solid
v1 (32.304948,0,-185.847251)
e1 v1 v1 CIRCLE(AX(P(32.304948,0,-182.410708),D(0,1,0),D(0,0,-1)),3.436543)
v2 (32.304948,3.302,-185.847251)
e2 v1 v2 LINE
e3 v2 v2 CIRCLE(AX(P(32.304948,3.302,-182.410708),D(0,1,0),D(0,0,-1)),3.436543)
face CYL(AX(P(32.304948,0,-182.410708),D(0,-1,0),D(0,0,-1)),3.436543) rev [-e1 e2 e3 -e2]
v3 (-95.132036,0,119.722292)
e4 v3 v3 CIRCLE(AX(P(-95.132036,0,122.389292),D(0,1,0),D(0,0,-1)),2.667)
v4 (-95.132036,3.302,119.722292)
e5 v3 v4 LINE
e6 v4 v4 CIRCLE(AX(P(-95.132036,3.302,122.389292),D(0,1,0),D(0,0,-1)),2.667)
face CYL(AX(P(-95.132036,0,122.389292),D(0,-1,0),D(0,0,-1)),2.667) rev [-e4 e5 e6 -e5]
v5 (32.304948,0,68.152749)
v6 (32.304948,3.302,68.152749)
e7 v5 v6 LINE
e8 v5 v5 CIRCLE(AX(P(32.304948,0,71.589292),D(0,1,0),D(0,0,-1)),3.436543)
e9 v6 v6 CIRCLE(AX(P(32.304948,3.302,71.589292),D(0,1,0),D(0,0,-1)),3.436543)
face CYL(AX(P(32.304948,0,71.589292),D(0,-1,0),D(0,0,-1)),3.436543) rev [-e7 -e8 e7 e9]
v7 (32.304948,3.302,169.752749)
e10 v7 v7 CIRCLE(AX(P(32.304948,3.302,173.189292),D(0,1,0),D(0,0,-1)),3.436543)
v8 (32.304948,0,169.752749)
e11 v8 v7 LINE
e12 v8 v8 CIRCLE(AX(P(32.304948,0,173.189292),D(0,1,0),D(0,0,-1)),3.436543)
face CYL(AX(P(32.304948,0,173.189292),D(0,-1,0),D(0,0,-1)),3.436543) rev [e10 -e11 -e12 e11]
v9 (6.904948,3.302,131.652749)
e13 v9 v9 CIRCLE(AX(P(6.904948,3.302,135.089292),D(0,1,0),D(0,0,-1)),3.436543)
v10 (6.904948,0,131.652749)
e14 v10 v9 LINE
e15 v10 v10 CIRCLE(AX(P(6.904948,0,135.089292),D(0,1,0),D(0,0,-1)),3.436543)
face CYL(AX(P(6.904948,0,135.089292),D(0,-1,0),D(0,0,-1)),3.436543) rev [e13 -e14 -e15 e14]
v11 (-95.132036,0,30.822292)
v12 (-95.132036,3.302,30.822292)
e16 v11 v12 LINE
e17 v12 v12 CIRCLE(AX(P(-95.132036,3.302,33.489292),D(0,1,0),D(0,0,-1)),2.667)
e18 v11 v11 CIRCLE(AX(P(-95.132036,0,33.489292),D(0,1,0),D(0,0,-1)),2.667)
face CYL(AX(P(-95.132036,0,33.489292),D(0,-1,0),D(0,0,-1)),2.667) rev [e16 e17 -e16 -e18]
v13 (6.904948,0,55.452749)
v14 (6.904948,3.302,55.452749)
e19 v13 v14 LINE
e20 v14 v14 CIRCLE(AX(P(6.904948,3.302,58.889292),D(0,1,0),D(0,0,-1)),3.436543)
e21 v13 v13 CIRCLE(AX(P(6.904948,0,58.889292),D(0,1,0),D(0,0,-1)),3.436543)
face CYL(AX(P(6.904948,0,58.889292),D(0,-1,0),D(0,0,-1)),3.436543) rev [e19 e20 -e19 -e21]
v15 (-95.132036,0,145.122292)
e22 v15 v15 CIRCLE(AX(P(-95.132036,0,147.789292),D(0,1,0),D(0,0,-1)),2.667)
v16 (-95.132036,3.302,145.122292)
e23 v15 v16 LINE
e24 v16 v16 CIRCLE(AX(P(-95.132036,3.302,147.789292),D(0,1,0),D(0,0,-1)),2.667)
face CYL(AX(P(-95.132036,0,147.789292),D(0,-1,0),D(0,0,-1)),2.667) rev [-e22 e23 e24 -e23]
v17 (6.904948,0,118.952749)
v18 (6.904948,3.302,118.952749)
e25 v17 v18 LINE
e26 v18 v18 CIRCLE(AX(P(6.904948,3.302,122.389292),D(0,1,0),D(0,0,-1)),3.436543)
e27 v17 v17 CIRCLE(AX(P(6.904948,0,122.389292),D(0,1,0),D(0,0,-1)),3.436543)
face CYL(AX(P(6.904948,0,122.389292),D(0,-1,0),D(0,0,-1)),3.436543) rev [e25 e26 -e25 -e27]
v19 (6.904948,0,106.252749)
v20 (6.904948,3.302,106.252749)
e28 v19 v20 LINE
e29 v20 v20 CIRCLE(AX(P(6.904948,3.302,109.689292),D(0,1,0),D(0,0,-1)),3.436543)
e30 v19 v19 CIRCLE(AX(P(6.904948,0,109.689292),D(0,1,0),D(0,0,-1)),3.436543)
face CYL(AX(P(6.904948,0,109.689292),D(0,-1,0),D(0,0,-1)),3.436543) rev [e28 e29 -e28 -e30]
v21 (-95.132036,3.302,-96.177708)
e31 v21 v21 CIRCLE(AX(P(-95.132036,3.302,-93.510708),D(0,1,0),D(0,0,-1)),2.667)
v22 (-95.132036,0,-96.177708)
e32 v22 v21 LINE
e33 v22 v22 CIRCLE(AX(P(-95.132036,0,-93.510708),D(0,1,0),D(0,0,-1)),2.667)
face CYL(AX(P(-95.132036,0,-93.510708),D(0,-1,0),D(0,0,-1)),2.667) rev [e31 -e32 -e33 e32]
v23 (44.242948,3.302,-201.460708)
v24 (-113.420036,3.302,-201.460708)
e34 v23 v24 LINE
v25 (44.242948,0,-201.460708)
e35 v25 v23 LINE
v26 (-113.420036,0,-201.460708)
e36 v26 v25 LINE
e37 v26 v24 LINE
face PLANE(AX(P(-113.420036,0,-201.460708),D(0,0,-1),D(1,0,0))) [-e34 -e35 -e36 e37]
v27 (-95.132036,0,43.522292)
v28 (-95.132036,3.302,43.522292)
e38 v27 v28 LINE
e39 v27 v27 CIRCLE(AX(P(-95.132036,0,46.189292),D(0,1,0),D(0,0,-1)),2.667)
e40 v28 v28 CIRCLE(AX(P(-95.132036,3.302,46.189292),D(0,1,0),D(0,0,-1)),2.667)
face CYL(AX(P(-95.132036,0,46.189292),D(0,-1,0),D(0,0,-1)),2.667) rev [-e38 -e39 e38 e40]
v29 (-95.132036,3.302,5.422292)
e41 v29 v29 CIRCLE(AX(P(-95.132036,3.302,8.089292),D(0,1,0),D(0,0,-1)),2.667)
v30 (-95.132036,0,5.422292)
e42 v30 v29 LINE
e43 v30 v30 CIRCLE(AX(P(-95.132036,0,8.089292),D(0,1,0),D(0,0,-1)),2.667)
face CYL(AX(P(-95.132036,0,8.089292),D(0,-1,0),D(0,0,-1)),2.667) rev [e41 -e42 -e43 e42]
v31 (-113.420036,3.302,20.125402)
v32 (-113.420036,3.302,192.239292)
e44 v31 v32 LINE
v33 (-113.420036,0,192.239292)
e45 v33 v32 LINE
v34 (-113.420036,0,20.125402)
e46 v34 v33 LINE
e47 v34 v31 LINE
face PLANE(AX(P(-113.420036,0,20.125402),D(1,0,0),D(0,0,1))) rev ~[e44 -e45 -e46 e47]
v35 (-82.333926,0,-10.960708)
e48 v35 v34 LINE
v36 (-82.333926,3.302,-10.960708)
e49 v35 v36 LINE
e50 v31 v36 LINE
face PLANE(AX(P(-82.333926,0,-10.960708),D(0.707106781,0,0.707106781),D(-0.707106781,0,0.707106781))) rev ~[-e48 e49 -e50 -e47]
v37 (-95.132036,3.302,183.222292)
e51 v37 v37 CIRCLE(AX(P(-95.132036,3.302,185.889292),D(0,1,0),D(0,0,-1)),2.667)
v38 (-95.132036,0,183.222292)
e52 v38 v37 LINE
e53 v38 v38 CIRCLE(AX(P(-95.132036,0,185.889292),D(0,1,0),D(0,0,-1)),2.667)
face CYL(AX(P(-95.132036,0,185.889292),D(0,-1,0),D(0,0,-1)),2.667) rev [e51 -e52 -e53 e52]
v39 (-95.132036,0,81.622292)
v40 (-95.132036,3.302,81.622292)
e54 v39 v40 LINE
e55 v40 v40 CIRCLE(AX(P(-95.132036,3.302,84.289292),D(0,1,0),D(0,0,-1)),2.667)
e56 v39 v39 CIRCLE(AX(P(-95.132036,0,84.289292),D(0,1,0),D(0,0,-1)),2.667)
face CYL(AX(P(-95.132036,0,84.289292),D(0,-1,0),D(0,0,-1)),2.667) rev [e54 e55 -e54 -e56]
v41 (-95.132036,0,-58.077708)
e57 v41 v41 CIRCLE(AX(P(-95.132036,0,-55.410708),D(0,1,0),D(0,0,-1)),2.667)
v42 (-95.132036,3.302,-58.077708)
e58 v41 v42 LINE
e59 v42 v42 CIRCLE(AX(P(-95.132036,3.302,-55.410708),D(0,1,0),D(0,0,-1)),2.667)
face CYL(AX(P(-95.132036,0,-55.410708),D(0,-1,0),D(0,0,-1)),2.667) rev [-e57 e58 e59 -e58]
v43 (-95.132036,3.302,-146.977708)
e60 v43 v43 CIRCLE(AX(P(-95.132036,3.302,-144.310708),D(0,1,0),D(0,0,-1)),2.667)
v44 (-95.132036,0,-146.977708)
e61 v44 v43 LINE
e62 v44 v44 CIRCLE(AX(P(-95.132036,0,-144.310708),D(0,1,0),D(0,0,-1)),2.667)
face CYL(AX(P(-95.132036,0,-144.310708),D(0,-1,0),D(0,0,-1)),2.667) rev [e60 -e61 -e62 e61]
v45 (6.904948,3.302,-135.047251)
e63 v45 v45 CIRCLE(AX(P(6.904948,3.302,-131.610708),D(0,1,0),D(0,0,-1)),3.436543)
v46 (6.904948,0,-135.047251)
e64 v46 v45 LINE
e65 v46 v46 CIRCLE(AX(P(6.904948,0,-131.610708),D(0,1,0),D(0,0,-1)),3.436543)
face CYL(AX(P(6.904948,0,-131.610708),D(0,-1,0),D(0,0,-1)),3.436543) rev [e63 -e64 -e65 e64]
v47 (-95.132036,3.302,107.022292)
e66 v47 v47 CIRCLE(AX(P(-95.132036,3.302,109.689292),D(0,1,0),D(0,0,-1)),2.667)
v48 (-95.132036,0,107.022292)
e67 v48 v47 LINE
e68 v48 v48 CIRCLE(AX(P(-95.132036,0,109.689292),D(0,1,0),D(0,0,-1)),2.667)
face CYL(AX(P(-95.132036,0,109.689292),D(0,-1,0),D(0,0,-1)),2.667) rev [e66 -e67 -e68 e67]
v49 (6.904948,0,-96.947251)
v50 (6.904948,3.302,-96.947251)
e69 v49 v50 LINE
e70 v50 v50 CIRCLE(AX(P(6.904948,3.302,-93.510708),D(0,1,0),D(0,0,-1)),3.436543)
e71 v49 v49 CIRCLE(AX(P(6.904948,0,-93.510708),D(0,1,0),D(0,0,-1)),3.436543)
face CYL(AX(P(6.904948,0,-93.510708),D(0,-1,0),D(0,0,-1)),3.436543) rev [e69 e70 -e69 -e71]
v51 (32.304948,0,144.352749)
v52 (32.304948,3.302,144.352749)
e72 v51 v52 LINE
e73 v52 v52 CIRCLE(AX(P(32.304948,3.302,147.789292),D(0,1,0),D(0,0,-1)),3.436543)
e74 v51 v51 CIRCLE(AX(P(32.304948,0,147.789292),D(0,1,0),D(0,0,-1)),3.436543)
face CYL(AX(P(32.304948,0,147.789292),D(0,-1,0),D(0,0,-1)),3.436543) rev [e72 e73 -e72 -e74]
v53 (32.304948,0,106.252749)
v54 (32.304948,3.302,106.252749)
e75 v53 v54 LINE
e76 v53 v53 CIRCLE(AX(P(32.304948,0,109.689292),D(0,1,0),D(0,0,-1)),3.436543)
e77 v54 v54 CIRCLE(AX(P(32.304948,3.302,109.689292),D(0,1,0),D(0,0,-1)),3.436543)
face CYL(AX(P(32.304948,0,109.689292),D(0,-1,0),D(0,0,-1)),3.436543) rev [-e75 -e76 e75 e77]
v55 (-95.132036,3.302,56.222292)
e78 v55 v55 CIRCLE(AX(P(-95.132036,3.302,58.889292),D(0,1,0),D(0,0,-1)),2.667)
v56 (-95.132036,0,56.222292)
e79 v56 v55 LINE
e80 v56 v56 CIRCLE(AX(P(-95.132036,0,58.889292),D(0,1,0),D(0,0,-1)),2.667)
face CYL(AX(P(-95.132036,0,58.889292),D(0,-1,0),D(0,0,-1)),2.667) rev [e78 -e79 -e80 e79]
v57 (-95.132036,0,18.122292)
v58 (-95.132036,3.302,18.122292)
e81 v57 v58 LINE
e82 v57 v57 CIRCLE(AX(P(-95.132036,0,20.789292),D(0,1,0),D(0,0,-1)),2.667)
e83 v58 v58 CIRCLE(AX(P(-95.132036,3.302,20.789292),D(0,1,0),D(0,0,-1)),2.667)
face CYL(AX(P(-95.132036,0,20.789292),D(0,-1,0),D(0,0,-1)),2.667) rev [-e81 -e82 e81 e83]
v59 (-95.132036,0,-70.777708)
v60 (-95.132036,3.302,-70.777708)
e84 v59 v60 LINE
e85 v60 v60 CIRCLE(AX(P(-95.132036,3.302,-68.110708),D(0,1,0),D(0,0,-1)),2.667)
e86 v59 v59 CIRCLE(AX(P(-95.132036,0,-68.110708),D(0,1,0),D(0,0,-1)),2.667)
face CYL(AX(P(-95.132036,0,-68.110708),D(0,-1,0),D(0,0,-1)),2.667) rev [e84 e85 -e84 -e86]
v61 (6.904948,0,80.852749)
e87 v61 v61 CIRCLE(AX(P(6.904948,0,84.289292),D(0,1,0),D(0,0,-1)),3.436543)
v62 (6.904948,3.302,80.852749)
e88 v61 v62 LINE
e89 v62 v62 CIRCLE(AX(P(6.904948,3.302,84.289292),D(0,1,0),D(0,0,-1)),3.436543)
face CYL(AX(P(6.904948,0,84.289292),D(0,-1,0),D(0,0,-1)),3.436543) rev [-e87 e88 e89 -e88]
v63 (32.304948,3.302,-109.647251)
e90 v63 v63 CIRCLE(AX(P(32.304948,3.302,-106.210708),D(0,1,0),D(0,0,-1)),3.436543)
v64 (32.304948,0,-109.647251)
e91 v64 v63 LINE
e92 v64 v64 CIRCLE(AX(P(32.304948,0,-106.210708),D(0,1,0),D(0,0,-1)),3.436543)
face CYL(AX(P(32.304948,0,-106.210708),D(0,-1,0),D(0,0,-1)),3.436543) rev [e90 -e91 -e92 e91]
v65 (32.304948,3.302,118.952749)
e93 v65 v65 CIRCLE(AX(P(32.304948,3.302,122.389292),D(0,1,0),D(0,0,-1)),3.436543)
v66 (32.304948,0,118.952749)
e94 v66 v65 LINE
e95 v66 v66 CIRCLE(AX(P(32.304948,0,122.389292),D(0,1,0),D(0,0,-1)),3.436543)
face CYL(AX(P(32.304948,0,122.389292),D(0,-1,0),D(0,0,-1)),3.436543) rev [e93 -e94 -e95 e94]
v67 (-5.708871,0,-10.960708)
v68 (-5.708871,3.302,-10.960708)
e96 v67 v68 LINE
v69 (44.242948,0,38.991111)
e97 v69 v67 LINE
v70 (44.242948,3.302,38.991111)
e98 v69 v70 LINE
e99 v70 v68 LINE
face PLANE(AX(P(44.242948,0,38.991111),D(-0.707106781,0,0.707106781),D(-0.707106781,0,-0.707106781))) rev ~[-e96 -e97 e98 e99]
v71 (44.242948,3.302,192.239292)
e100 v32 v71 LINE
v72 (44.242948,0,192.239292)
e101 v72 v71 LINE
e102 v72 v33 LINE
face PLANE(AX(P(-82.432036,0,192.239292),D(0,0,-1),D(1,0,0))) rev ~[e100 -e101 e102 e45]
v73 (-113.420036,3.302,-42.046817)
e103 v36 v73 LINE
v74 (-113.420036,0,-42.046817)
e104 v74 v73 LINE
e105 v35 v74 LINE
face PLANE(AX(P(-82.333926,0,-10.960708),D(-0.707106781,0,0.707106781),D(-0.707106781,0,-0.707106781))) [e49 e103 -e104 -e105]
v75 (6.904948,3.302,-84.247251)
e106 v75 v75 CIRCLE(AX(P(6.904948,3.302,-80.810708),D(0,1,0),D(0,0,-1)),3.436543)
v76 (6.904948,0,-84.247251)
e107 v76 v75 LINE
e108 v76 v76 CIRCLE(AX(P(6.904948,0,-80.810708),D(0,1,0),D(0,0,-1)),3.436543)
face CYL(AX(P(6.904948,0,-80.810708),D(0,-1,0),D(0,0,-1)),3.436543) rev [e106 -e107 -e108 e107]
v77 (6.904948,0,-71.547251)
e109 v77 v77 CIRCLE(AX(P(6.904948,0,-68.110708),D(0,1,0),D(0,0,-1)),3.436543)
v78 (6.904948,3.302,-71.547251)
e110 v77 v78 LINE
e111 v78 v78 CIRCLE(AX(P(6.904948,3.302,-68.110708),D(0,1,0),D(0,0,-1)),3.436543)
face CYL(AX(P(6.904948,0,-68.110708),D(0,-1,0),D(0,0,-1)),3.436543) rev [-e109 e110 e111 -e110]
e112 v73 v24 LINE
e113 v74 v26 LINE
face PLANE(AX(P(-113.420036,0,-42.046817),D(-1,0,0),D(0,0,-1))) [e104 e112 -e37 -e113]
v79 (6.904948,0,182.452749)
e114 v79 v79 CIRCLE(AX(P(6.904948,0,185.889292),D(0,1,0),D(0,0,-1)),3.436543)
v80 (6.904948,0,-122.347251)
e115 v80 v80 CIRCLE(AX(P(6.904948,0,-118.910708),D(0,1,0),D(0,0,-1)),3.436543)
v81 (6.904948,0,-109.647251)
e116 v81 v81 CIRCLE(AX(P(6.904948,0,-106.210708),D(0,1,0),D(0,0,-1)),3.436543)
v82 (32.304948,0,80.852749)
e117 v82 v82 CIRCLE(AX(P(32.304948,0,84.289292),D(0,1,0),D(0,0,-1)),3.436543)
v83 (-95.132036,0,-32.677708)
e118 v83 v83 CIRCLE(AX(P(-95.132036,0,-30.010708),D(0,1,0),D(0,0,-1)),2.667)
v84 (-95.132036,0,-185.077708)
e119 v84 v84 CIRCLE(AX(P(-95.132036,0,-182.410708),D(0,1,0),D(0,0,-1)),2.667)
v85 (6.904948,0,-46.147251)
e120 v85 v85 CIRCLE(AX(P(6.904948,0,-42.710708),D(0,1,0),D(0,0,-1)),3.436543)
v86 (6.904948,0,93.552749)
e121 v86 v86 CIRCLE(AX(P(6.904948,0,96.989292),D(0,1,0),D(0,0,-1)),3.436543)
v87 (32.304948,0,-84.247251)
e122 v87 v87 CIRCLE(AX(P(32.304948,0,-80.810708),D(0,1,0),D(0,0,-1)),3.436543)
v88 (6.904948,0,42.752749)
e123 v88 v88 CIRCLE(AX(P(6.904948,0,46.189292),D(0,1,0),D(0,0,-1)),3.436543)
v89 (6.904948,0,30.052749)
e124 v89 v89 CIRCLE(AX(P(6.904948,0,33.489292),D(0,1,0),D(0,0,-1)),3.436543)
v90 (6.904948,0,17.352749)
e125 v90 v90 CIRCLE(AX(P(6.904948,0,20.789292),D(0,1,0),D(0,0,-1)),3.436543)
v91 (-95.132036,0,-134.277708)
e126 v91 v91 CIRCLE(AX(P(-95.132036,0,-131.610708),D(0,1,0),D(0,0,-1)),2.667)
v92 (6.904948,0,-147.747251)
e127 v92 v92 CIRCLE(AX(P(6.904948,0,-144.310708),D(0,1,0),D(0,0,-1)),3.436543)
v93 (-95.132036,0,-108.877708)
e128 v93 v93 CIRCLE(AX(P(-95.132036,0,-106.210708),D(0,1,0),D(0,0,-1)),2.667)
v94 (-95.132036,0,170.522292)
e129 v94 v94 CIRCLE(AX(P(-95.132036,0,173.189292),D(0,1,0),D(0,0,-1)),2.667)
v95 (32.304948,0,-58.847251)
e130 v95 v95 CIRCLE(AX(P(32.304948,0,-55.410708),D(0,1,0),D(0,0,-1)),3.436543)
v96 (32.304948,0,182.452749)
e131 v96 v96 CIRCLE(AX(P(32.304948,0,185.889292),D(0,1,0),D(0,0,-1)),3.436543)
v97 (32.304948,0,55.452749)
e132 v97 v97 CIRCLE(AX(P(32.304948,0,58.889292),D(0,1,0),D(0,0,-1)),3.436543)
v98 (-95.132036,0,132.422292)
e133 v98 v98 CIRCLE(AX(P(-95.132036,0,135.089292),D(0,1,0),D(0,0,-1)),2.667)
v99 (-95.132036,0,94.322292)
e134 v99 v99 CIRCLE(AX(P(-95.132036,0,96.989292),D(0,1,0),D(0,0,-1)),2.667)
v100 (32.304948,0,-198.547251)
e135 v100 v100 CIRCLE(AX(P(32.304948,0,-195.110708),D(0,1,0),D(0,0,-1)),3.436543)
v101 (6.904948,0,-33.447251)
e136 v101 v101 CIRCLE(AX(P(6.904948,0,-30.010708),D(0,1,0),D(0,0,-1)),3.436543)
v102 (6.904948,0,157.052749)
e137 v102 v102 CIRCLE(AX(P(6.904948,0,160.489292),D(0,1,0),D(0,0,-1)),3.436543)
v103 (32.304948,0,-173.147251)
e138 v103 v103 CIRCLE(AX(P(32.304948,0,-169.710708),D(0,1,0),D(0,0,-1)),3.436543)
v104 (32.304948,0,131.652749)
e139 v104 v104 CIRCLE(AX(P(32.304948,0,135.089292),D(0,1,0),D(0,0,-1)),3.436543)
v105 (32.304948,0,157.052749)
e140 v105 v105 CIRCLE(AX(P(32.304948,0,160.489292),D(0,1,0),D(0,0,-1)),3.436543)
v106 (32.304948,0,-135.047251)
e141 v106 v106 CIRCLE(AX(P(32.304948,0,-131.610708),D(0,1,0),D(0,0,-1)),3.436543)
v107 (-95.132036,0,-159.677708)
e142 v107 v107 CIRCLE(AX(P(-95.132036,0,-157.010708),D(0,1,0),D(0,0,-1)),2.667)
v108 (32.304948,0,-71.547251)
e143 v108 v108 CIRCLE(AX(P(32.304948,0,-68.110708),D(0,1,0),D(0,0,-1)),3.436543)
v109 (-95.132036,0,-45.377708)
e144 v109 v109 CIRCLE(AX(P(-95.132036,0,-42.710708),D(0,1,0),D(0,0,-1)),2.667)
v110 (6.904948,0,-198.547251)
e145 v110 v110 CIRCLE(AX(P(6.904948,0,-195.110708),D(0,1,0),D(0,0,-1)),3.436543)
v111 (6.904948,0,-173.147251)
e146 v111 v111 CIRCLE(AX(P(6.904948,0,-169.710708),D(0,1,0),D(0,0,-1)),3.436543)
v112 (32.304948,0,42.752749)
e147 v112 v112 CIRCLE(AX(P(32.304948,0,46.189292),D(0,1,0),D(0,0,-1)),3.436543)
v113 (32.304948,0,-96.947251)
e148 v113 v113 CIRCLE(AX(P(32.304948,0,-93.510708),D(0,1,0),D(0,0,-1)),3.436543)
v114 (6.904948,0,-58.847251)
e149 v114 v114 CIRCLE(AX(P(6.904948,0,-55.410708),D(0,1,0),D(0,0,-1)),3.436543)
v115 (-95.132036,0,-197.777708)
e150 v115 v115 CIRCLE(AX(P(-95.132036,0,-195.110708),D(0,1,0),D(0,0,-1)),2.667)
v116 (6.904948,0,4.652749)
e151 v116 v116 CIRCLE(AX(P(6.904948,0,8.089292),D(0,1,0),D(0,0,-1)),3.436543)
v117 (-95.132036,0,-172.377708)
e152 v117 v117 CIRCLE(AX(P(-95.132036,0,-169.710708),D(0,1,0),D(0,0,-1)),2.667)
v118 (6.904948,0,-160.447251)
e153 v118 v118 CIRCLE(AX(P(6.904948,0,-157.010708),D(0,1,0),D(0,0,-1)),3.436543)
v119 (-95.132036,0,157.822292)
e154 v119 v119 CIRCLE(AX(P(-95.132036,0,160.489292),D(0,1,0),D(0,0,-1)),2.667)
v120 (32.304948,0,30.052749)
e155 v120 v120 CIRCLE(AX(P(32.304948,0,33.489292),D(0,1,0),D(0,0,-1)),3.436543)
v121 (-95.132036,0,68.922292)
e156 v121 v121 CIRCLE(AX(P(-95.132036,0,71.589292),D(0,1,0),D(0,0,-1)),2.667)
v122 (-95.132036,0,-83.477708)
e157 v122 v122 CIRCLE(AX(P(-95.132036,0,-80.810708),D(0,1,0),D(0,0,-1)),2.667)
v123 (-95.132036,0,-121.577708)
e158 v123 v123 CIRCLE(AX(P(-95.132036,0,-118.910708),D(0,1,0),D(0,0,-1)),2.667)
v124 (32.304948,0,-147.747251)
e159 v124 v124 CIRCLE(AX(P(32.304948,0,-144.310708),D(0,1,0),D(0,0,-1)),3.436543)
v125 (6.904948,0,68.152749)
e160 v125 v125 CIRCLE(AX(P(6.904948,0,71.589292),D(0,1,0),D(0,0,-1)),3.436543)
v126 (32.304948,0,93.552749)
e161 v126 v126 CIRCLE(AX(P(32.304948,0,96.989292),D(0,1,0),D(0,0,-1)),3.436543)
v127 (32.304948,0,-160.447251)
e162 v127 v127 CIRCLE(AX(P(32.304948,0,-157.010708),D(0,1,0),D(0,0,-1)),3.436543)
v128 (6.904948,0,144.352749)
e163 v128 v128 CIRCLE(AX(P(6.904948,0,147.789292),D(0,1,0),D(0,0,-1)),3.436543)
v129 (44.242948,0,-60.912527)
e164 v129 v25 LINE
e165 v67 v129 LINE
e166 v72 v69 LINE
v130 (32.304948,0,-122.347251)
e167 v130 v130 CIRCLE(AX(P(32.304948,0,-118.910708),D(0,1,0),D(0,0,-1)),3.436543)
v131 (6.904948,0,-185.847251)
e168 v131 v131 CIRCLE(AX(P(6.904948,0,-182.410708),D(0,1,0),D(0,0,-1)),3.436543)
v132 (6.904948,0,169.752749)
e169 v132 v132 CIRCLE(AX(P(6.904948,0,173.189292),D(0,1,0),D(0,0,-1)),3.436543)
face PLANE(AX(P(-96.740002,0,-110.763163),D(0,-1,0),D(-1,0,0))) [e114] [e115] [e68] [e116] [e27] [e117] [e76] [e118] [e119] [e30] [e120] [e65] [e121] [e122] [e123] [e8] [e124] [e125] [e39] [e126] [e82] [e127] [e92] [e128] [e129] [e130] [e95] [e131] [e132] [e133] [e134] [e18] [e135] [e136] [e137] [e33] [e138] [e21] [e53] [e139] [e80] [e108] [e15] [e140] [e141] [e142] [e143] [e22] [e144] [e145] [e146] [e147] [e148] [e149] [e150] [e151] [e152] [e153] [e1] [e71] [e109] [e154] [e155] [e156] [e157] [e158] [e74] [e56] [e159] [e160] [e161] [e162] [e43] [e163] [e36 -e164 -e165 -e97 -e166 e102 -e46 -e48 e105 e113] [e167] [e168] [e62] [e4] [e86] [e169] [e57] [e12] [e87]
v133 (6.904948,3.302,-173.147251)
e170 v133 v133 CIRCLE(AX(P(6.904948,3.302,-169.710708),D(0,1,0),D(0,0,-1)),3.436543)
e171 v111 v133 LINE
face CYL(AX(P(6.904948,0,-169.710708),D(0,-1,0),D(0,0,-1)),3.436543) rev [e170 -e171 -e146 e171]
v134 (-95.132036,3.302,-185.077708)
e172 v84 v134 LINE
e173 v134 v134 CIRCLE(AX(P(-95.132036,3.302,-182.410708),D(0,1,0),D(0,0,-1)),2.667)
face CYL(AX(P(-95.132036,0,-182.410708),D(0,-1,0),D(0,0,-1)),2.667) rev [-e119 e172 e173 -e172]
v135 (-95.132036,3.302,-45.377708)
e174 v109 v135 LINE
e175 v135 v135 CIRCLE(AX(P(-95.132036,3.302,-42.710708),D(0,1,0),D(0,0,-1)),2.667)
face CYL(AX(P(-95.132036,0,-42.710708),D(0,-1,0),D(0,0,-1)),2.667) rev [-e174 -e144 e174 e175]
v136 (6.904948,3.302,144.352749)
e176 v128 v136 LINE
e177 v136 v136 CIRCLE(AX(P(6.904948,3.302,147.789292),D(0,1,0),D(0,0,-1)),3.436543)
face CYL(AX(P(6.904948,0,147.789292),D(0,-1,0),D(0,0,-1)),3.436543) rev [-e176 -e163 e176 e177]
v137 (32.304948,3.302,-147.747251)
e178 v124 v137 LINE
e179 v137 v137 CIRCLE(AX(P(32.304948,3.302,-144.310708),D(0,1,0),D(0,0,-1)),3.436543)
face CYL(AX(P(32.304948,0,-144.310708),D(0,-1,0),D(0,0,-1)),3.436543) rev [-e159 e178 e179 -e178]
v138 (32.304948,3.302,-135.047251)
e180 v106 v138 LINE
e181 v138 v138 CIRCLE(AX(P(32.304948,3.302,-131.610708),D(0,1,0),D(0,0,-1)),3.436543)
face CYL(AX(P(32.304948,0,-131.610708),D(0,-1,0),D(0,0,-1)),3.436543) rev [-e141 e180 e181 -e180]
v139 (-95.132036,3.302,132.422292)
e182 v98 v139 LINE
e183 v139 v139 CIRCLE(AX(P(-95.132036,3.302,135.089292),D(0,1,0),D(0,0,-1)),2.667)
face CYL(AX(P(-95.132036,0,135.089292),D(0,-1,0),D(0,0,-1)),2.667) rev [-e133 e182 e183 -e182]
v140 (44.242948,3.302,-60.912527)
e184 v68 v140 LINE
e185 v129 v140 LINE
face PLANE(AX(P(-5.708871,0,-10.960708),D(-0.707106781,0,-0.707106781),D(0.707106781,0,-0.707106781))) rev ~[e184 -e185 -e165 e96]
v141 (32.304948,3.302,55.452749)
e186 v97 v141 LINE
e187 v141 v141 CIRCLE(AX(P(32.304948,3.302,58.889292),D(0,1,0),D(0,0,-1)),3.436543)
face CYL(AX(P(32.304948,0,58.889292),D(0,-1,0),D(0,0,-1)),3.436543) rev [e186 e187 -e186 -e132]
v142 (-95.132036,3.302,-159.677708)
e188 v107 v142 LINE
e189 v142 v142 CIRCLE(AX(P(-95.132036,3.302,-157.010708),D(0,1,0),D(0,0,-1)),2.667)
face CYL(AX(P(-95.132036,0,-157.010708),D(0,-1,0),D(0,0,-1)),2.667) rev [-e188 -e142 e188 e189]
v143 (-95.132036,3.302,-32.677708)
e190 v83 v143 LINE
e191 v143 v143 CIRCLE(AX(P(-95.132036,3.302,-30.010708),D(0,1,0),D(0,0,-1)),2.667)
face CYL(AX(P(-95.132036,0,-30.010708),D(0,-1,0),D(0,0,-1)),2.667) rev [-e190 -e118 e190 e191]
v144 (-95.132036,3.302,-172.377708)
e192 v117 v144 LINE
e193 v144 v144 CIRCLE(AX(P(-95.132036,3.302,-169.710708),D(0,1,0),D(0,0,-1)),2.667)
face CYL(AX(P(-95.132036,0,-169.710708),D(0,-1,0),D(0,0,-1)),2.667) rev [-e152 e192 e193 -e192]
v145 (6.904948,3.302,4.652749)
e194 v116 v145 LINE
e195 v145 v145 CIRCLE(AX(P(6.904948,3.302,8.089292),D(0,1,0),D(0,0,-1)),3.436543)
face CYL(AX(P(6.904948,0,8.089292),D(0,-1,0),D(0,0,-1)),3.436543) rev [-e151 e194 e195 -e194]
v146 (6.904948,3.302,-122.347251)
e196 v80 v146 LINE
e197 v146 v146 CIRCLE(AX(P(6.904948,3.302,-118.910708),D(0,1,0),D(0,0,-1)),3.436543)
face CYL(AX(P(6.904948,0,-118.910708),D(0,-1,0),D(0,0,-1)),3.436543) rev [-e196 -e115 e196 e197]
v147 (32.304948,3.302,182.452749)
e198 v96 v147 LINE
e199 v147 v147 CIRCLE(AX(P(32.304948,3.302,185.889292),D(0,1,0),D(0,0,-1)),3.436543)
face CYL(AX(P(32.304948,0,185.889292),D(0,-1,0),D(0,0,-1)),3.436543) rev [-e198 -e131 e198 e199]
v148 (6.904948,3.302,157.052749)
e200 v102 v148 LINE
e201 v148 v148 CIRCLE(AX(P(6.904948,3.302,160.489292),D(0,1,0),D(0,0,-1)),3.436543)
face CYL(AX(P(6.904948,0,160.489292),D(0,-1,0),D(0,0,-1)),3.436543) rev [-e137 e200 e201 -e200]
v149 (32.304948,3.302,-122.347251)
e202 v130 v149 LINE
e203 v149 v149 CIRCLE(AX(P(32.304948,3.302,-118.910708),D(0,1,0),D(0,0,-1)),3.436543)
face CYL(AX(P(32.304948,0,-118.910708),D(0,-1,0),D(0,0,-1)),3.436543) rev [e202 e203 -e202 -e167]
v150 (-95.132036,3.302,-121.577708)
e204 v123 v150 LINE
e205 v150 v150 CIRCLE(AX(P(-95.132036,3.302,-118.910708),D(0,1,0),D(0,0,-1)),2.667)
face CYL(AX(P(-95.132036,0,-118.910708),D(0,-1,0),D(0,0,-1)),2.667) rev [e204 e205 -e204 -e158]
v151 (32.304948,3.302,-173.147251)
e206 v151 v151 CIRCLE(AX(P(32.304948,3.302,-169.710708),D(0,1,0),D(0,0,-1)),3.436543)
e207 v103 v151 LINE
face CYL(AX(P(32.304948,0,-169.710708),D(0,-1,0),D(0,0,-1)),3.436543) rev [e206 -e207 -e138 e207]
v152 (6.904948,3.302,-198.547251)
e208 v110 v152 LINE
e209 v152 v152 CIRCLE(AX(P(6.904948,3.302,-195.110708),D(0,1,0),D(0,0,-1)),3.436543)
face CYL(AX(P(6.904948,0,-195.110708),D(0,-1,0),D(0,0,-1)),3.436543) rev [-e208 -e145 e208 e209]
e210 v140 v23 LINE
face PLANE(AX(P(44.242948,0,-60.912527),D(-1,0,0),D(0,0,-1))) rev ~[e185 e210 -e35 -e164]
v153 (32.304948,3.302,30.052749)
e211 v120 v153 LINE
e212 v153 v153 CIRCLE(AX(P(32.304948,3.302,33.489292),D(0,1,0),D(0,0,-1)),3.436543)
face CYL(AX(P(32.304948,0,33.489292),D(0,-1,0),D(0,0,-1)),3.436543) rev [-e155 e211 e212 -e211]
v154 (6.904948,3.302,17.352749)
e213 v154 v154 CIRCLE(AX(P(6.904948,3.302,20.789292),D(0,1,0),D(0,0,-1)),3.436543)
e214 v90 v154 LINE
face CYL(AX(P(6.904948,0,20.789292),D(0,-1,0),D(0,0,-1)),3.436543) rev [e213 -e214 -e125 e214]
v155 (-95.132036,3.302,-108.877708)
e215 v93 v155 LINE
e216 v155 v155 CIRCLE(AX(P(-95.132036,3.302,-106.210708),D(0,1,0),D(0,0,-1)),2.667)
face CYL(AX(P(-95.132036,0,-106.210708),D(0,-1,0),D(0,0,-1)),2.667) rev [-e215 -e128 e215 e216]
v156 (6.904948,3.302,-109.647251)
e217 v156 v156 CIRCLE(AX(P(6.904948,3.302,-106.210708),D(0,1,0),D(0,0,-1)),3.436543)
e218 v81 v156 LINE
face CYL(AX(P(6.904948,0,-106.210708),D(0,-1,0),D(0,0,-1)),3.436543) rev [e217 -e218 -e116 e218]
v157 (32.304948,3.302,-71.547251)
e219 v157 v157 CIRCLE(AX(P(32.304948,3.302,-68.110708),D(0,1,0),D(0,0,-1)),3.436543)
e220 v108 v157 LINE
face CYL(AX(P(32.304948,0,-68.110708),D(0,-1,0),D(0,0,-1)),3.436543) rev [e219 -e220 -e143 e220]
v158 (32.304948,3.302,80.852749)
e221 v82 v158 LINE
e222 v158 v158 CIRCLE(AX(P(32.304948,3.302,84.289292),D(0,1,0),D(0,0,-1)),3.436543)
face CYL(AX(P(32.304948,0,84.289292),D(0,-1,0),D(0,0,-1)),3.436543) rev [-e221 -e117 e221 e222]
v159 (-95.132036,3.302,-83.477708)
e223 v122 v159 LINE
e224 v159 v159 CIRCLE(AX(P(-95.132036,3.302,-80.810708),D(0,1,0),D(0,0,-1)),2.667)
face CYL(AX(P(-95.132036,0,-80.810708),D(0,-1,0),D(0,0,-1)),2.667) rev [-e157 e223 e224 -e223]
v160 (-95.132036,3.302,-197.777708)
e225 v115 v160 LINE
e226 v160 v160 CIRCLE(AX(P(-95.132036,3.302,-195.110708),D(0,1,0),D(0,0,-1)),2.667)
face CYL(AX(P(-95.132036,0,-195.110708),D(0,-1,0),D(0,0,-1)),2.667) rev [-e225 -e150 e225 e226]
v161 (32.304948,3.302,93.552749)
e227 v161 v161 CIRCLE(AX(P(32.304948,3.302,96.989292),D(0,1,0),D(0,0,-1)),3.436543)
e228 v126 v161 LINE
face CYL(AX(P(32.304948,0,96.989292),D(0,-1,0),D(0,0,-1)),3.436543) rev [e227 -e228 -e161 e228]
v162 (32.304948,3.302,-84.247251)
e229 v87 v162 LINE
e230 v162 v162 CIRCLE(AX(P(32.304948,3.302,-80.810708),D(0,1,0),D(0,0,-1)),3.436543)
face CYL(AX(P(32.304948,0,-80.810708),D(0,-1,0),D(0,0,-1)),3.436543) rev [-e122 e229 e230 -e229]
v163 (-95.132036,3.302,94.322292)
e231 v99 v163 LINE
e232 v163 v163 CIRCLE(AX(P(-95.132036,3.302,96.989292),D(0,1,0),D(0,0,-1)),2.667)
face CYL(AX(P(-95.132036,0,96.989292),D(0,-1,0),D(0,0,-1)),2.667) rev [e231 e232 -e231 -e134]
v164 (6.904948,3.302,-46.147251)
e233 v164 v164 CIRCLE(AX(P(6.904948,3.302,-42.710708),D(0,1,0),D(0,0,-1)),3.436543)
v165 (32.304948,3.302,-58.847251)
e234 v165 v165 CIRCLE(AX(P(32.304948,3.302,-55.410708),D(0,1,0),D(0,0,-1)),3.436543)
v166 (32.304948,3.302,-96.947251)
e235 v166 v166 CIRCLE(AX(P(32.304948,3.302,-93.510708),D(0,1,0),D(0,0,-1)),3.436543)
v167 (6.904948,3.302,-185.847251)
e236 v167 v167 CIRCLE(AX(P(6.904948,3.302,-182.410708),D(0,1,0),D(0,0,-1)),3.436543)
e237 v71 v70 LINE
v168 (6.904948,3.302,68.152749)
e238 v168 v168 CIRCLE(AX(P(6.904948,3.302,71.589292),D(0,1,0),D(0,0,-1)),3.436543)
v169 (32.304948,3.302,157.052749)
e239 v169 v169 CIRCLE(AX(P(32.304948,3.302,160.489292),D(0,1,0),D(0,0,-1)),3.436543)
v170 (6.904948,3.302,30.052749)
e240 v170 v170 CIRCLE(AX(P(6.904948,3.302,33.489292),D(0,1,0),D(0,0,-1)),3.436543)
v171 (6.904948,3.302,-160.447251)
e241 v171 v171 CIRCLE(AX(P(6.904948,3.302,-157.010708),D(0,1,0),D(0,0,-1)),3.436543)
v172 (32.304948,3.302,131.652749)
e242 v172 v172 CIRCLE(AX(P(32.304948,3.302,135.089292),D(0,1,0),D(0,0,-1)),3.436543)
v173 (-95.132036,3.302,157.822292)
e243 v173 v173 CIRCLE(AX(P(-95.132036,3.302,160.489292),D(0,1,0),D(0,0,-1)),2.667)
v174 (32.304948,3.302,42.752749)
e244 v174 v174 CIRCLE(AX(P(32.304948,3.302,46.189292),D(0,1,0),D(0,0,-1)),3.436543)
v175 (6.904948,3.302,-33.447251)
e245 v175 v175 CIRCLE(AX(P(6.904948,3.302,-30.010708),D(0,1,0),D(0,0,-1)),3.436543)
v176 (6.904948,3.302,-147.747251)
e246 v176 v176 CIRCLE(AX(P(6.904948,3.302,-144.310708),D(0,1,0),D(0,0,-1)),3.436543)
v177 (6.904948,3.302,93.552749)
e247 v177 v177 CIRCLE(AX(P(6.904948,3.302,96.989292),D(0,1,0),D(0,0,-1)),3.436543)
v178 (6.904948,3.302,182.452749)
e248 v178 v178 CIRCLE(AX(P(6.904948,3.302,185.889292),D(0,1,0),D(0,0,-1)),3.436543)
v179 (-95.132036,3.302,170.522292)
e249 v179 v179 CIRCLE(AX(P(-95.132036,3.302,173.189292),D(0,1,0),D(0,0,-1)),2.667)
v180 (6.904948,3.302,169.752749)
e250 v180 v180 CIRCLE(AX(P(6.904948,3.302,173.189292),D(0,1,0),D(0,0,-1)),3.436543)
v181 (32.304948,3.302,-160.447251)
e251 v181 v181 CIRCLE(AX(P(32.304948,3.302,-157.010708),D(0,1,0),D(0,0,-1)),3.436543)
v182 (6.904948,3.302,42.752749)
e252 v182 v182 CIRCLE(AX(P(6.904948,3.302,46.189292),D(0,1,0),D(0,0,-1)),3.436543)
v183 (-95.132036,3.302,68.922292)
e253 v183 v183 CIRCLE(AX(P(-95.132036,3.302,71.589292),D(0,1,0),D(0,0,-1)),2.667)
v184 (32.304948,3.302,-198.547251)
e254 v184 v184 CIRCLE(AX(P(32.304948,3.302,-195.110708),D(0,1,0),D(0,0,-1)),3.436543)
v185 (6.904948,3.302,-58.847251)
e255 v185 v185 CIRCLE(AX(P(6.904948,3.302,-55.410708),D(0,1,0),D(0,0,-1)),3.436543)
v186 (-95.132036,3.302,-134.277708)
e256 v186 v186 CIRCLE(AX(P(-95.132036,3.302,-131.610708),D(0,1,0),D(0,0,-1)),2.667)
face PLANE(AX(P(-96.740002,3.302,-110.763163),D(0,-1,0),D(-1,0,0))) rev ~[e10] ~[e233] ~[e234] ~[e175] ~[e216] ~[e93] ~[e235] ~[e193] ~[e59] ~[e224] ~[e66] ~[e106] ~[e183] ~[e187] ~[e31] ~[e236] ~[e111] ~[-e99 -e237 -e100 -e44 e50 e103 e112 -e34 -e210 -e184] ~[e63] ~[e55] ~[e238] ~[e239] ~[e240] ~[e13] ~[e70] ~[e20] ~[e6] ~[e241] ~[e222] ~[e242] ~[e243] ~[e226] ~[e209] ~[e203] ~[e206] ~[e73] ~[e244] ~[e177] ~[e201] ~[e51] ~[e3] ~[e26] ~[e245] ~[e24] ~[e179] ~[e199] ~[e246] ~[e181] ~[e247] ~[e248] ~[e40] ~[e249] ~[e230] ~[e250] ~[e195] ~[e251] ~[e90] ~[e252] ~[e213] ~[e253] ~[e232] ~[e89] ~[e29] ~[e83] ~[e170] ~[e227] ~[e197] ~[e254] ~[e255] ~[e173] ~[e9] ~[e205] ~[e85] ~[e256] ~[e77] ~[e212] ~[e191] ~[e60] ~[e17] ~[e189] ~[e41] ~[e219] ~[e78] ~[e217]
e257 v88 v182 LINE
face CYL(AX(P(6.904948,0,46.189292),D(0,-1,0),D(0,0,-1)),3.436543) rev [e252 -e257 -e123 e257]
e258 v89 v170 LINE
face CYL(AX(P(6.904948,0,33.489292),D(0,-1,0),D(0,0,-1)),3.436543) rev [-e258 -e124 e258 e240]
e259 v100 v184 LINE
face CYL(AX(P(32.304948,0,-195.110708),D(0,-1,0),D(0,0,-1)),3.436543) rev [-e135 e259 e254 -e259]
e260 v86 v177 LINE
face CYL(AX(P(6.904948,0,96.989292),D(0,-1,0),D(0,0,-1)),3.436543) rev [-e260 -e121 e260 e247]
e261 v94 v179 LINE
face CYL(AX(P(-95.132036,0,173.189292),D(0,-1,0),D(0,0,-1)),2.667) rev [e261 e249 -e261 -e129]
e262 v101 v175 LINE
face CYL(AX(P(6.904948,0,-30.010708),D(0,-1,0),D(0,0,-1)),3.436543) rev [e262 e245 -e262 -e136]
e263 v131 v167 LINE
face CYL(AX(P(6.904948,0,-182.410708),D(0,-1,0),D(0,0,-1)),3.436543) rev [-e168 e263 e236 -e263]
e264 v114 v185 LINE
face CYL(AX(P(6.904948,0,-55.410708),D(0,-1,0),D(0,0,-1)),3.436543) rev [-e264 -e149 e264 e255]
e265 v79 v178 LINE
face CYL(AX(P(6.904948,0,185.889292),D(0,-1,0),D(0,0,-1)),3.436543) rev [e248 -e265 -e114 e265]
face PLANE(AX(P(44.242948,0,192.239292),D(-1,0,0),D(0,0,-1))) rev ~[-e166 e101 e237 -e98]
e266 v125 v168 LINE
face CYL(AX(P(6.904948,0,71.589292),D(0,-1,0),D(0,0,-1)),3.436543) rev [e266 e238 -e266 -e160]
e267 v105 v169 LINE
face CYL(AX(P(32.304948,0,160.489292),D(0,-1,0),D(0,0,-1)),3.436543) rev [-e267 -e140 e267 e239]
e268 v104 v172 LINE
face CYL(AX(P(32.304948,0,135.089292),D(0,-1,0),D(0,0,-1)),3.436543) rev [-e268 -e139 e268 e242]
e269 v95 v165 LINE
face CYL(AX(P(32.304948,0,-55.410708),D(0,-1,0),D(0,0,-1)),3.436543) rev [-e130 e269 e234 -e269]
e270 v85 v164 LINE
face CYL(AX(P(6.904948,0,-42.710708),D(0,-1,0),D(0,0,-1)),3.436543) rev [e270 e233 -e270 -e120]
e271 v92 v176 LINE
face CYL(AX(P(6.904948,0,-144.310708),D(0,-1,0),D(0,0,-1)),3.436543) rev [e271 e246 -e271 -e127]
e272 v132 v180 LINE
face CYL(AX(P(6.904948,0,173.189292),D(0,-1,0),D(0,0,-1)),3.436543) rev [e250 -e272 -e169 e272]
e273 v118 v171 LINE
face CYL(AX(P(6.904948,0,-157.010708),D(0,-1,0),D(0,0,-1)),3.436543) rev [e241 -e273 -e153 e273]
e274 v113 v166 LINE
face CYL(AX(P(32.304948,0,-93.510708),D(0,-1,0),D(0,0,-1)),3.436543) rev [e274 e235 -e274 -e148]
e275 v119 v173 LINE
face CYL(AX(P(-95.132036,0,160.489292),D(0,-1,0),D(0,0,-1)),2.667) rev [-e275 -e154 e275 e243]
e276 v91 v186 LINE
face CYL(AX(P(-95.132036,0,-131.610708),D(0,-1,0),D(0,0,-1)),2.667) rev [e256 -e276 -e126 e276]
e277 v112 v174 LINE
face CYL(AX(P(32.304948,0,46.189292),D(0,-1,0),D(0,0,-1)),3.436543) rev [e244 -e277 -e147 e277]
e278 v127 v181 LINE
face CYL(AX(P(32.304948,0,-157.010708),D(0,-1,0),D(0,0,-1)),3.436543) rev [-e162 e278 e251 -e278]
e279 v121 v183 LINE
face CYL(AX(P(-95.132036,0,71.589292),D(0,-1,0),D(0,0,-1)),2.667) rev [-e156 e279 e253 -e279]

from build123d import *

# Parameters (mm, degrees)
SKETCH1_W           = 76.609890536
SKETCH1_H           = 190.5
SKETCH1_R           = 2.667
SKETCH1_R_2         = 3.436543353
BOSS_EXTRUDE1_DEPTH = 3.302


with BuildPart() as part:
    # Sketch1 → Boss-Extrude1 (new body)
    # profile 1 of 6: a face of its own
    with BuildSketch(Plane(origin=(0, 0, 0), x_dir=(1, 0, 0), z_dir=(0, 1, 0))):
        with Locations((-44.02898095, 106.210707771)):
            Rectangle(SKETCH1_W, SKETCH1_H)
    # profile 2 of 6: a face of its own
    with BuildSketch(Plane(origin=(0, 0, 0), x_dir=(1, 0, 0), z_dir=(0, 1, 0))):
        Polygon((-82.432035682, -192.239292229), (-5.724035682, -192.239292229), (-5.724035682, 10.960707771), (-82.333926218, 10.960707771), (-82.432035682, 10.862598307), align=None)
    # profile 3 of 6: a face of its own
    with BuildSketch(Plane(origin=(0, 0, 0), x_dir=(1, 0, 0), z_dir=(0, 1, 0))):
        Polygon((-113.420035682, -192.239292229), (-82.432035682, -192.239292229), (-82.432035682, 10.862598307), (-113.420035682, -20.125401693), align=None)
        with Locations(Location((-95.132035682, -185.889292229, 0), (0, 0, 90))):
            Circle(SKETCH1_R, mode=Mode.SUBTRACT)
        with Locations(Location((-95.132035682, -173.189292229, 0), (0, 0, 90))):
            Circle(SKETCH1_R, mode=Mode.SUBTRACT)
        with Locations(Location((-95.132035682, -160.489292229, 0), (0, 0, 90))):
            Circle(SKETCH1_R, mode=Mode.SUBTRACT)
        with Locations(Location((-95.132035682, -147.789292229, 0), (0, 0, 90))):
            Circle(SKETCH1_R, mode=Mode.SUBTRACT)
        with Locations(Location((-95.132035682, -135.089292229, 0), (0, 0, 90))):
            Circle(SKETCH1_R, mode=Mode.SUBTRACT)
        with Locations(Location((-95.132035682, -122.389292229, 0), (0, 0, 90))):
            Circle(SKETCH1_R, mode=Mode.SUBTRACT)
        with Locations(Location((-95.132035682, -109.689292229, 0), (0, 0, 90))):
            Circle(SKETCH1_R, mode=Mode.SUBTRACT)
        with Locations(Location((-95.132035682, -96.989292229, 0), (0, 0, 90))):
            Circle(SKETCH1_R, mode=Mode.SUBTRACT)
        with Locations(Location((-95.132035682, -84.289292229, 0), (0, 0, 90))):
            Circle(SKETCH1_R, mode=Mode.SUBTRACT)
        with Locations(Location((-95.132035682, -71.589292229, 0), (0, 0, 90))):
            Circle(SKETCH1_R, mode=Mode.SUBTRACT)
        with Locations(Location((-95.132035682, -58.889292229, 0), (0, 0, 90))):
            Circle(SKETCH1_R, mode=Mode.SUBTRACT)
        with Locations(Location((-95.132035682, -46.189292229, 0), (0, 0, 90))):
            Circle(SKETCH1_R, mode=Mode.SUBTRACT)
        with Locations(Location((-95.132035682, -33.489292229, 0), (0, 0, 90))):
            Circle(SKETCH1_R, mode=Mode.SUBTRACT)
        with Locations(Location((-95.132035682, -20.789292229, 0), (0, 0, 90))):
            Circle(SKETCH1_R, mode=Mode.SUBTRACT)
        with Locations(Location((-95.132035682, -8.089292229, 0), (0, 0, 90))):
            Circle(SKETCH1_R, mode=Mode.SUBTRACT)
    # profile 4 of 6: a face of its own
    with BuildSketch(Plane(origin=(0, 0, 0), x_dir=(1, 0, 0), z_dir=(0, 1, 0))):
        Polygon((44.242948133, -192.239292229), (44.242948133, -38.991111119), (-5.708870757, 10.960707771), (-5.724035682, 10.960707771), (-5.724035682, -192.239292229), align=None)
        with Locations(Location((6.904948133, -185.889292229, 0), (0, 0, 90))):
            Circle(SKETCH1_R_2, mode=Mode.SUBTRACT)
        with Locations(Location((6.904948133, -173.189292229, 0), (0, 0, 90))):
            Circle(SKETCH1_R_2, mode=Mode.SUBTRACT)
        with Locations(Location((6.904948133, -160.489292229, 0), (0, 0, 90))):
            Circle(SKETCH1_R_2, mode=Mode.SUBTRACT)
        with Locations(Location((6.904948133, -147.789292229, 0), (0, 0, 90))):
            Circle(SKETCH1_R_2, mode=Mode.SUBTRACT)
        with Locations(Location((32.304948133, -185.889292229, 0), (0, 0, 90))):
            Circle(SKETCH1_R_2, mode=Mode.SUBTRACT)
        with Locations(Location((32.304948133, -173.189292229, 0), (0, 0, 90))):
            Circle(SKETCH1_R_2, mode=Mode.SUBTRACT)
        with Locations(Location((32.304948133, -160.489292229, 0), (0, 0, 90))):
            Circle(SKETCH1_R_2, mode=Mode.SUBTRACT)
        with Locations(Location((32.304948133, -147.789292229, 0), (0, 0, 90))):
            Circle(SKETCH1_R_2, mode=Mode.SUBTRACT)
        with Locations(Location((6.904948133, -135.089292229, 0), (0, 0, 90))):
            Circle(SKETCH1_R_2, mode=Mode.SUBTRACT)
        with Locations(Location((6.904948133, -122.389292229, 0), (0, 0, 90))):
            Circle(SKETCH1_R_2, mode=Mode.SUBTRACT)
        with Locations(Location((6.904948133, -109.689292229, 0), (0, 0, 90))):
            Circle(SKETCH1_R_2, mode=Mode.SUBTRACT)
        with Locations(Location((6.904948133, -96.989292229, 0), (0, 0, 90))):
            Circle(SKETCH1_R_2, mode=Mode.SUBTRACT)
        with Locations(Location((32.304948133, -135.089292229, 0), (0, 0, 90))):
            Circle(SKETCH1_R_2, mode=Mode.SUBTRACT)
        with Locations(Location((32.304948133, -122.389292229, 0), (0, 0, 90))):
            Circle(SKETCH1_R_2, mode=Mode.SUBTRACT)
        with Locations(Location((32.304948133, -109.689292229, 0), (0, 0, 90))):
            Circle(SKETCH1_R_2, mode=Mode.SUBTRACT)
        with Locations(Location((32.304948133, -96.989292229, 0), (0, 0, 90))):
            Circle(SKETCH1_R_2, mode=Mode.SUBTRACT)
        with Locations(Location((6.904948133, -84.289292229, 0), (0, 0, 90))):
            Circle(SKETCH1_R_2, mode=Mode.SUBTRACT)
        with Locations(Location((6.904948133, -71.589292229, 0), (0, 0, 90))):
            Circle(SKETCH1_R_2, mode=Mode.SUBTRACT)
        with Locations(Location((6.904948133, -58.889292229, 0), (0, 0, 90))):
            Circle(SKETCH1_R_2, mode=Mode.SUBTRACT)
        with Locations(Location((6.904948133, -46.189292229, 0), (0, 0, 90))):
            Circle(SKETCH1_R_2, mode=Mode.SUBTRACT)
        with Locations(Location((32.304948133, -84.289292229, 0), (0, 0, 90))):
            Circle(SKETCH1_R_2, mode=Mode.SUBTRACT)
        with Locations(Location((32.304948133, -71.589292229, 0), (0, 0, 90))):
            Circle(SKETCH1_R_2, mode=Mode.SUBTRACT)
        with Locations(Location((32.304948133, -58.889292229, 0), (0, 0, 90))):
            Circle(SKETCH1_R_2, mode=Mode.SUBTRACT)
        with Locations(Location((32.304948133, -46.189292229, 0), (0, 0, 90))):
            Circle(SKETCH1_R_2, mode=Mode.SUBTRACT)
        with Locations(Location((6.904948133, -33.489292229, 0), (0, 0, 90))):
            Circle(SKETCH1_R_2, mode=Mode.SUBTRACT)
        with Locations(Location((6.904948133, -20.789292229, 0), (0, 0, 90))):
            Circle(SKETCH1_R_2, mode=Mode.SUBTRACT)
        with Locations(Location((6.904948133, -8.089292229, 0), (0, 0, 90))):
            Circle(SKETCH1_R_2, mode=Mode.SUBTRACT)
        with Locations(Location((32.304948133, -33.489292229, 0), (0, 0, 90))):
            Circle(SKETCH1_R_2, mode=Mode.SUBTRACT)
    # profile 5 of 6: a face of its own
    with BuildSketch(Plane(origin=(0, 0, 0), x_dir=(1, 0, 0), z_dir=(0, 1, 0))):
        Polygon((-5.724035682, 10.960707771), (-5.708870757, 10.960707771), (44.242948133, 60.912526661), (44.242948133, 201.460707771), (-5.724035682, 201.460707771), align=None)
        with Locations(Location((6.904948133, 30.010707771, 0), (0, 0, 90))):
            Circle(SKETCH1_R_2, mode=Mode.SUBTRACT)
        with Locations(Location((6.904948133, 42.710707771, 0), (0, 0, 90))):
            Circle(SKETCH1_R_2, mode=Mode.SUBTRACT)
        with Locations(Location((6.904948133, 55.410707771, 0), (0, 0, 90))):
            Circle(SKETCH1_R_2, mode=Mode.SUBTRACT)
        with Locations(Location((6.904948133, 68.110707771, 0), (0, 0, 90))):
            Circle(SKETCH1_R_2, mode=Mode.SUBTRACT)
        with Locations(Location((6.904948133, 80.810707771, 0), (0, 0, 90))):
            Circle(SKETCH1_R_2, mode=Mode.SUBTRACT)
        with Locations(Location((6.904948133, 93.510707771, 0), (0, 0, 90))):
            Circle(SKETCH1_R_2, mode=Mode.SUBTRACT)
        with Locations(Location((32.304948133, 55.410707771, 0), (0, 0, 90))):
            Circle(SKETCH1_R_2, mode=Mode.SUBTRACT)
        with Locations(Location((32.304948133, 68.110707771, 0), (0, 0, 90))):
            Circle(SKETCH1_R_2, mode=Mode.SUBTRACT)
        with Locations(Location((32.304948133, 80.810707771, 0), (0, 0, 90))):
            Circle(SKETCH1_R_2, mode=Mode.SUBTRACT)
        with Locations(Location((32.304948133, 93.510707771, 0), (0, 0, 90))):
            Circle(SKETCH1_R_2, mode=Mode.SUBTRACT)
        with Locations(Location((6.904948133, 106.210707771, 0), (0, 0, 90))):
            Circle(SKETCH1_R_2, mode=Mode.SUBTRACT)
        with Locations(Location((6.904948133, 118.910707771, 0), (0, 0, 90))):
            Circle(SKETCH1_R_2, mode=Mode.SUBTRACT)
        with Locations(Location((6.904948133, 131.610707771, 0), (0, 0, 90))):
            Circle(SKETCH1_R_2, mode=Mode.SUBTRACT)
        with Locations(Location((6.904948133, 144.310707771, 0), (0, 0, 90))):
            Circle(SKETCH1_R_2, mode=Mode.SUBTRACT)
        with Locations(Location((32.304948133, 106.210707771, 0), (0, 0, 90))):
            Circle(SKETCH1_R_2, mode=Mode.SUBTRACT)
        with Locations(Location((32.304948133, 118.910707771, 0), (0, 0, 90))):
            Circle(SKETCH1_R_2, mode=Mode.SUBTRACT)
        with Locations(Location((32.304948133, 131.610707771, 0), (0, 0, 90))):
            Circle(SKETCH1_R_2, mode=Mode.SUBTRACT)
        with Locations(Location((32.304948133, 144.310707771, 0), (0, 0, 90))):
            Circle(SKETCH1_R_2, mode=Mode.SUBTRACT)
        with Locations(Location((6.904948133, 157.010707771, 0), (0, 0, 90))):
            Circle(SKETCH1_R_2, mode=Mode.SUBTRACT)
        with Locations(Location((6.904948133, 169.710707771, 0), (0, 0, 90))):
            Circle(SKETCH1_R_2, mode=Mode.SUBTRACT)
        with Locations(Location((6.904948133, 182.410707771, 0), (0, 0, 90))):
            Circle(SKETCH1_R_2, mode=Mode.SUBTRACT)
        with Locations(Location((6.904948133, 195.110707771, 0), (0, 0, 90))):
            Circle(SKETCH1_R_2, mode=Mode.SUBTRACT)
        with Locations(Location((32.304948133, 157.010707771, 0), (0, 0, 90))):
            Circle(SKETCH1_R_2, mode=Mode.SUBTRACT)
        with Locations(Location((32.304948133, 169.710707771, 0), (0, 0, 90))):
            Circle(SKETCH1_R_2, mode=Mode.SUBTRACT)
        with Locations(Location((32.304948133, 182.410707771, 0), (0, 0, 90))):
            Circle(SKETCH1_R_2, mode=Mode.SUBTRACT)
        with Locations(Location((32.304948133, 195.110707771, 0), (0, 0, 90))):
            Circle(SKETCH1_R_2, mode=Mode.SUBTRACT)
    # profile 6 of 6: a face of its own
    with BuildSketch(Plane(origin=(0, 0, 0), x_dir=(1, 0, 0), z_dir=(0, 1, 0))):
        Polygon((-82.333926218, 10.960707771), (-113.420035682, 42.046817234), (-113.420035682, 201.460707771), (-82.333926218, 201.460707771), align=None)
        with Locations(Location((-95.132035682, 30.010707771, 0), (0, 0, 90))):
            Circle(SKETCH1_R, mode=Mode.SUBTRACT)
        with Locations(Location((-95.132035682, 42.710707771, 0), (0, 0, 90))):
            Circle(SKETCH1_R, mode=Mode.SUBTRACT)
        with Locations(Location((-95.132035682, 55.410707771, 0), (0, 0, 90))):
            Circle(SKETCH1_R, mode=Mode.SUBTRACT)
        with Locations(Location((-95.132035682, 68.110707771, 0), (0, 0, 90))):
            Circle(SKETCH1_R, mode=Mode.SUBTRACT)
        with Locations(Location((-95.132035682, 80.810707771, 0), (0, 0, 90))):
            Circle(SKETCH1_R, mode=Mode.SUBTRACT)
        with Locations(Location((-95.132035682, 93.510707771, 0), (0, 0, 90))):
            Circle(SKETCH1_R, mode=Mode.SUBTRACT)
        with Locations(Location((-95.132035682, 106.210707771, 0), (0, 0, 90))):
            Circle(SKETCH1_R, mode=Mode.SUBTRACT)
        with Locations(Location((-95.132035682, 118.910707771, 0), (0, 0, 90))):
            Circle(SKETCH1_R, mode=Mode.SUBTRACT)
        with Locations(Location((-95.132035682, 131.610707771, 0), (0, 0, 90))):
            Circle(SKETCH1_R, mode=Mode.SUBTRACT)
        with Locations(Location((-95.132035682, 144.310707771, 0), (0, 0, 90))):
            Circle(SKETCH1_R, mode=Mode.SUBTRACT)
        with Locations(Location((-95.132035682, 157.010707771, 0), (0, 0, 90))):
            Circle(SKETCH1_R, mode=Mode.SUBTRACT)
        with Locations(Location((-95.132035682, 169.710707771, 0), (0, 0, 90))):
            Circle(SKETCH1_R, mode=Mode.SUBTRACT)
        with Locations(Location((-95.132035682, 182.410707771, 0), (0, 0, 90))):
            Circle(SKETCH1_R, mode=Mode.SUBTRACT)
        with Locations(Location((-95.132035682, 195.110707771, 0), (0, 0, 90))):
            Circle(SKETCH1_R, mode=Mode.SUBTRACT)
    extrude(amount=BOSS_EXTRUDE1_DEPTH)


solid = part.part
